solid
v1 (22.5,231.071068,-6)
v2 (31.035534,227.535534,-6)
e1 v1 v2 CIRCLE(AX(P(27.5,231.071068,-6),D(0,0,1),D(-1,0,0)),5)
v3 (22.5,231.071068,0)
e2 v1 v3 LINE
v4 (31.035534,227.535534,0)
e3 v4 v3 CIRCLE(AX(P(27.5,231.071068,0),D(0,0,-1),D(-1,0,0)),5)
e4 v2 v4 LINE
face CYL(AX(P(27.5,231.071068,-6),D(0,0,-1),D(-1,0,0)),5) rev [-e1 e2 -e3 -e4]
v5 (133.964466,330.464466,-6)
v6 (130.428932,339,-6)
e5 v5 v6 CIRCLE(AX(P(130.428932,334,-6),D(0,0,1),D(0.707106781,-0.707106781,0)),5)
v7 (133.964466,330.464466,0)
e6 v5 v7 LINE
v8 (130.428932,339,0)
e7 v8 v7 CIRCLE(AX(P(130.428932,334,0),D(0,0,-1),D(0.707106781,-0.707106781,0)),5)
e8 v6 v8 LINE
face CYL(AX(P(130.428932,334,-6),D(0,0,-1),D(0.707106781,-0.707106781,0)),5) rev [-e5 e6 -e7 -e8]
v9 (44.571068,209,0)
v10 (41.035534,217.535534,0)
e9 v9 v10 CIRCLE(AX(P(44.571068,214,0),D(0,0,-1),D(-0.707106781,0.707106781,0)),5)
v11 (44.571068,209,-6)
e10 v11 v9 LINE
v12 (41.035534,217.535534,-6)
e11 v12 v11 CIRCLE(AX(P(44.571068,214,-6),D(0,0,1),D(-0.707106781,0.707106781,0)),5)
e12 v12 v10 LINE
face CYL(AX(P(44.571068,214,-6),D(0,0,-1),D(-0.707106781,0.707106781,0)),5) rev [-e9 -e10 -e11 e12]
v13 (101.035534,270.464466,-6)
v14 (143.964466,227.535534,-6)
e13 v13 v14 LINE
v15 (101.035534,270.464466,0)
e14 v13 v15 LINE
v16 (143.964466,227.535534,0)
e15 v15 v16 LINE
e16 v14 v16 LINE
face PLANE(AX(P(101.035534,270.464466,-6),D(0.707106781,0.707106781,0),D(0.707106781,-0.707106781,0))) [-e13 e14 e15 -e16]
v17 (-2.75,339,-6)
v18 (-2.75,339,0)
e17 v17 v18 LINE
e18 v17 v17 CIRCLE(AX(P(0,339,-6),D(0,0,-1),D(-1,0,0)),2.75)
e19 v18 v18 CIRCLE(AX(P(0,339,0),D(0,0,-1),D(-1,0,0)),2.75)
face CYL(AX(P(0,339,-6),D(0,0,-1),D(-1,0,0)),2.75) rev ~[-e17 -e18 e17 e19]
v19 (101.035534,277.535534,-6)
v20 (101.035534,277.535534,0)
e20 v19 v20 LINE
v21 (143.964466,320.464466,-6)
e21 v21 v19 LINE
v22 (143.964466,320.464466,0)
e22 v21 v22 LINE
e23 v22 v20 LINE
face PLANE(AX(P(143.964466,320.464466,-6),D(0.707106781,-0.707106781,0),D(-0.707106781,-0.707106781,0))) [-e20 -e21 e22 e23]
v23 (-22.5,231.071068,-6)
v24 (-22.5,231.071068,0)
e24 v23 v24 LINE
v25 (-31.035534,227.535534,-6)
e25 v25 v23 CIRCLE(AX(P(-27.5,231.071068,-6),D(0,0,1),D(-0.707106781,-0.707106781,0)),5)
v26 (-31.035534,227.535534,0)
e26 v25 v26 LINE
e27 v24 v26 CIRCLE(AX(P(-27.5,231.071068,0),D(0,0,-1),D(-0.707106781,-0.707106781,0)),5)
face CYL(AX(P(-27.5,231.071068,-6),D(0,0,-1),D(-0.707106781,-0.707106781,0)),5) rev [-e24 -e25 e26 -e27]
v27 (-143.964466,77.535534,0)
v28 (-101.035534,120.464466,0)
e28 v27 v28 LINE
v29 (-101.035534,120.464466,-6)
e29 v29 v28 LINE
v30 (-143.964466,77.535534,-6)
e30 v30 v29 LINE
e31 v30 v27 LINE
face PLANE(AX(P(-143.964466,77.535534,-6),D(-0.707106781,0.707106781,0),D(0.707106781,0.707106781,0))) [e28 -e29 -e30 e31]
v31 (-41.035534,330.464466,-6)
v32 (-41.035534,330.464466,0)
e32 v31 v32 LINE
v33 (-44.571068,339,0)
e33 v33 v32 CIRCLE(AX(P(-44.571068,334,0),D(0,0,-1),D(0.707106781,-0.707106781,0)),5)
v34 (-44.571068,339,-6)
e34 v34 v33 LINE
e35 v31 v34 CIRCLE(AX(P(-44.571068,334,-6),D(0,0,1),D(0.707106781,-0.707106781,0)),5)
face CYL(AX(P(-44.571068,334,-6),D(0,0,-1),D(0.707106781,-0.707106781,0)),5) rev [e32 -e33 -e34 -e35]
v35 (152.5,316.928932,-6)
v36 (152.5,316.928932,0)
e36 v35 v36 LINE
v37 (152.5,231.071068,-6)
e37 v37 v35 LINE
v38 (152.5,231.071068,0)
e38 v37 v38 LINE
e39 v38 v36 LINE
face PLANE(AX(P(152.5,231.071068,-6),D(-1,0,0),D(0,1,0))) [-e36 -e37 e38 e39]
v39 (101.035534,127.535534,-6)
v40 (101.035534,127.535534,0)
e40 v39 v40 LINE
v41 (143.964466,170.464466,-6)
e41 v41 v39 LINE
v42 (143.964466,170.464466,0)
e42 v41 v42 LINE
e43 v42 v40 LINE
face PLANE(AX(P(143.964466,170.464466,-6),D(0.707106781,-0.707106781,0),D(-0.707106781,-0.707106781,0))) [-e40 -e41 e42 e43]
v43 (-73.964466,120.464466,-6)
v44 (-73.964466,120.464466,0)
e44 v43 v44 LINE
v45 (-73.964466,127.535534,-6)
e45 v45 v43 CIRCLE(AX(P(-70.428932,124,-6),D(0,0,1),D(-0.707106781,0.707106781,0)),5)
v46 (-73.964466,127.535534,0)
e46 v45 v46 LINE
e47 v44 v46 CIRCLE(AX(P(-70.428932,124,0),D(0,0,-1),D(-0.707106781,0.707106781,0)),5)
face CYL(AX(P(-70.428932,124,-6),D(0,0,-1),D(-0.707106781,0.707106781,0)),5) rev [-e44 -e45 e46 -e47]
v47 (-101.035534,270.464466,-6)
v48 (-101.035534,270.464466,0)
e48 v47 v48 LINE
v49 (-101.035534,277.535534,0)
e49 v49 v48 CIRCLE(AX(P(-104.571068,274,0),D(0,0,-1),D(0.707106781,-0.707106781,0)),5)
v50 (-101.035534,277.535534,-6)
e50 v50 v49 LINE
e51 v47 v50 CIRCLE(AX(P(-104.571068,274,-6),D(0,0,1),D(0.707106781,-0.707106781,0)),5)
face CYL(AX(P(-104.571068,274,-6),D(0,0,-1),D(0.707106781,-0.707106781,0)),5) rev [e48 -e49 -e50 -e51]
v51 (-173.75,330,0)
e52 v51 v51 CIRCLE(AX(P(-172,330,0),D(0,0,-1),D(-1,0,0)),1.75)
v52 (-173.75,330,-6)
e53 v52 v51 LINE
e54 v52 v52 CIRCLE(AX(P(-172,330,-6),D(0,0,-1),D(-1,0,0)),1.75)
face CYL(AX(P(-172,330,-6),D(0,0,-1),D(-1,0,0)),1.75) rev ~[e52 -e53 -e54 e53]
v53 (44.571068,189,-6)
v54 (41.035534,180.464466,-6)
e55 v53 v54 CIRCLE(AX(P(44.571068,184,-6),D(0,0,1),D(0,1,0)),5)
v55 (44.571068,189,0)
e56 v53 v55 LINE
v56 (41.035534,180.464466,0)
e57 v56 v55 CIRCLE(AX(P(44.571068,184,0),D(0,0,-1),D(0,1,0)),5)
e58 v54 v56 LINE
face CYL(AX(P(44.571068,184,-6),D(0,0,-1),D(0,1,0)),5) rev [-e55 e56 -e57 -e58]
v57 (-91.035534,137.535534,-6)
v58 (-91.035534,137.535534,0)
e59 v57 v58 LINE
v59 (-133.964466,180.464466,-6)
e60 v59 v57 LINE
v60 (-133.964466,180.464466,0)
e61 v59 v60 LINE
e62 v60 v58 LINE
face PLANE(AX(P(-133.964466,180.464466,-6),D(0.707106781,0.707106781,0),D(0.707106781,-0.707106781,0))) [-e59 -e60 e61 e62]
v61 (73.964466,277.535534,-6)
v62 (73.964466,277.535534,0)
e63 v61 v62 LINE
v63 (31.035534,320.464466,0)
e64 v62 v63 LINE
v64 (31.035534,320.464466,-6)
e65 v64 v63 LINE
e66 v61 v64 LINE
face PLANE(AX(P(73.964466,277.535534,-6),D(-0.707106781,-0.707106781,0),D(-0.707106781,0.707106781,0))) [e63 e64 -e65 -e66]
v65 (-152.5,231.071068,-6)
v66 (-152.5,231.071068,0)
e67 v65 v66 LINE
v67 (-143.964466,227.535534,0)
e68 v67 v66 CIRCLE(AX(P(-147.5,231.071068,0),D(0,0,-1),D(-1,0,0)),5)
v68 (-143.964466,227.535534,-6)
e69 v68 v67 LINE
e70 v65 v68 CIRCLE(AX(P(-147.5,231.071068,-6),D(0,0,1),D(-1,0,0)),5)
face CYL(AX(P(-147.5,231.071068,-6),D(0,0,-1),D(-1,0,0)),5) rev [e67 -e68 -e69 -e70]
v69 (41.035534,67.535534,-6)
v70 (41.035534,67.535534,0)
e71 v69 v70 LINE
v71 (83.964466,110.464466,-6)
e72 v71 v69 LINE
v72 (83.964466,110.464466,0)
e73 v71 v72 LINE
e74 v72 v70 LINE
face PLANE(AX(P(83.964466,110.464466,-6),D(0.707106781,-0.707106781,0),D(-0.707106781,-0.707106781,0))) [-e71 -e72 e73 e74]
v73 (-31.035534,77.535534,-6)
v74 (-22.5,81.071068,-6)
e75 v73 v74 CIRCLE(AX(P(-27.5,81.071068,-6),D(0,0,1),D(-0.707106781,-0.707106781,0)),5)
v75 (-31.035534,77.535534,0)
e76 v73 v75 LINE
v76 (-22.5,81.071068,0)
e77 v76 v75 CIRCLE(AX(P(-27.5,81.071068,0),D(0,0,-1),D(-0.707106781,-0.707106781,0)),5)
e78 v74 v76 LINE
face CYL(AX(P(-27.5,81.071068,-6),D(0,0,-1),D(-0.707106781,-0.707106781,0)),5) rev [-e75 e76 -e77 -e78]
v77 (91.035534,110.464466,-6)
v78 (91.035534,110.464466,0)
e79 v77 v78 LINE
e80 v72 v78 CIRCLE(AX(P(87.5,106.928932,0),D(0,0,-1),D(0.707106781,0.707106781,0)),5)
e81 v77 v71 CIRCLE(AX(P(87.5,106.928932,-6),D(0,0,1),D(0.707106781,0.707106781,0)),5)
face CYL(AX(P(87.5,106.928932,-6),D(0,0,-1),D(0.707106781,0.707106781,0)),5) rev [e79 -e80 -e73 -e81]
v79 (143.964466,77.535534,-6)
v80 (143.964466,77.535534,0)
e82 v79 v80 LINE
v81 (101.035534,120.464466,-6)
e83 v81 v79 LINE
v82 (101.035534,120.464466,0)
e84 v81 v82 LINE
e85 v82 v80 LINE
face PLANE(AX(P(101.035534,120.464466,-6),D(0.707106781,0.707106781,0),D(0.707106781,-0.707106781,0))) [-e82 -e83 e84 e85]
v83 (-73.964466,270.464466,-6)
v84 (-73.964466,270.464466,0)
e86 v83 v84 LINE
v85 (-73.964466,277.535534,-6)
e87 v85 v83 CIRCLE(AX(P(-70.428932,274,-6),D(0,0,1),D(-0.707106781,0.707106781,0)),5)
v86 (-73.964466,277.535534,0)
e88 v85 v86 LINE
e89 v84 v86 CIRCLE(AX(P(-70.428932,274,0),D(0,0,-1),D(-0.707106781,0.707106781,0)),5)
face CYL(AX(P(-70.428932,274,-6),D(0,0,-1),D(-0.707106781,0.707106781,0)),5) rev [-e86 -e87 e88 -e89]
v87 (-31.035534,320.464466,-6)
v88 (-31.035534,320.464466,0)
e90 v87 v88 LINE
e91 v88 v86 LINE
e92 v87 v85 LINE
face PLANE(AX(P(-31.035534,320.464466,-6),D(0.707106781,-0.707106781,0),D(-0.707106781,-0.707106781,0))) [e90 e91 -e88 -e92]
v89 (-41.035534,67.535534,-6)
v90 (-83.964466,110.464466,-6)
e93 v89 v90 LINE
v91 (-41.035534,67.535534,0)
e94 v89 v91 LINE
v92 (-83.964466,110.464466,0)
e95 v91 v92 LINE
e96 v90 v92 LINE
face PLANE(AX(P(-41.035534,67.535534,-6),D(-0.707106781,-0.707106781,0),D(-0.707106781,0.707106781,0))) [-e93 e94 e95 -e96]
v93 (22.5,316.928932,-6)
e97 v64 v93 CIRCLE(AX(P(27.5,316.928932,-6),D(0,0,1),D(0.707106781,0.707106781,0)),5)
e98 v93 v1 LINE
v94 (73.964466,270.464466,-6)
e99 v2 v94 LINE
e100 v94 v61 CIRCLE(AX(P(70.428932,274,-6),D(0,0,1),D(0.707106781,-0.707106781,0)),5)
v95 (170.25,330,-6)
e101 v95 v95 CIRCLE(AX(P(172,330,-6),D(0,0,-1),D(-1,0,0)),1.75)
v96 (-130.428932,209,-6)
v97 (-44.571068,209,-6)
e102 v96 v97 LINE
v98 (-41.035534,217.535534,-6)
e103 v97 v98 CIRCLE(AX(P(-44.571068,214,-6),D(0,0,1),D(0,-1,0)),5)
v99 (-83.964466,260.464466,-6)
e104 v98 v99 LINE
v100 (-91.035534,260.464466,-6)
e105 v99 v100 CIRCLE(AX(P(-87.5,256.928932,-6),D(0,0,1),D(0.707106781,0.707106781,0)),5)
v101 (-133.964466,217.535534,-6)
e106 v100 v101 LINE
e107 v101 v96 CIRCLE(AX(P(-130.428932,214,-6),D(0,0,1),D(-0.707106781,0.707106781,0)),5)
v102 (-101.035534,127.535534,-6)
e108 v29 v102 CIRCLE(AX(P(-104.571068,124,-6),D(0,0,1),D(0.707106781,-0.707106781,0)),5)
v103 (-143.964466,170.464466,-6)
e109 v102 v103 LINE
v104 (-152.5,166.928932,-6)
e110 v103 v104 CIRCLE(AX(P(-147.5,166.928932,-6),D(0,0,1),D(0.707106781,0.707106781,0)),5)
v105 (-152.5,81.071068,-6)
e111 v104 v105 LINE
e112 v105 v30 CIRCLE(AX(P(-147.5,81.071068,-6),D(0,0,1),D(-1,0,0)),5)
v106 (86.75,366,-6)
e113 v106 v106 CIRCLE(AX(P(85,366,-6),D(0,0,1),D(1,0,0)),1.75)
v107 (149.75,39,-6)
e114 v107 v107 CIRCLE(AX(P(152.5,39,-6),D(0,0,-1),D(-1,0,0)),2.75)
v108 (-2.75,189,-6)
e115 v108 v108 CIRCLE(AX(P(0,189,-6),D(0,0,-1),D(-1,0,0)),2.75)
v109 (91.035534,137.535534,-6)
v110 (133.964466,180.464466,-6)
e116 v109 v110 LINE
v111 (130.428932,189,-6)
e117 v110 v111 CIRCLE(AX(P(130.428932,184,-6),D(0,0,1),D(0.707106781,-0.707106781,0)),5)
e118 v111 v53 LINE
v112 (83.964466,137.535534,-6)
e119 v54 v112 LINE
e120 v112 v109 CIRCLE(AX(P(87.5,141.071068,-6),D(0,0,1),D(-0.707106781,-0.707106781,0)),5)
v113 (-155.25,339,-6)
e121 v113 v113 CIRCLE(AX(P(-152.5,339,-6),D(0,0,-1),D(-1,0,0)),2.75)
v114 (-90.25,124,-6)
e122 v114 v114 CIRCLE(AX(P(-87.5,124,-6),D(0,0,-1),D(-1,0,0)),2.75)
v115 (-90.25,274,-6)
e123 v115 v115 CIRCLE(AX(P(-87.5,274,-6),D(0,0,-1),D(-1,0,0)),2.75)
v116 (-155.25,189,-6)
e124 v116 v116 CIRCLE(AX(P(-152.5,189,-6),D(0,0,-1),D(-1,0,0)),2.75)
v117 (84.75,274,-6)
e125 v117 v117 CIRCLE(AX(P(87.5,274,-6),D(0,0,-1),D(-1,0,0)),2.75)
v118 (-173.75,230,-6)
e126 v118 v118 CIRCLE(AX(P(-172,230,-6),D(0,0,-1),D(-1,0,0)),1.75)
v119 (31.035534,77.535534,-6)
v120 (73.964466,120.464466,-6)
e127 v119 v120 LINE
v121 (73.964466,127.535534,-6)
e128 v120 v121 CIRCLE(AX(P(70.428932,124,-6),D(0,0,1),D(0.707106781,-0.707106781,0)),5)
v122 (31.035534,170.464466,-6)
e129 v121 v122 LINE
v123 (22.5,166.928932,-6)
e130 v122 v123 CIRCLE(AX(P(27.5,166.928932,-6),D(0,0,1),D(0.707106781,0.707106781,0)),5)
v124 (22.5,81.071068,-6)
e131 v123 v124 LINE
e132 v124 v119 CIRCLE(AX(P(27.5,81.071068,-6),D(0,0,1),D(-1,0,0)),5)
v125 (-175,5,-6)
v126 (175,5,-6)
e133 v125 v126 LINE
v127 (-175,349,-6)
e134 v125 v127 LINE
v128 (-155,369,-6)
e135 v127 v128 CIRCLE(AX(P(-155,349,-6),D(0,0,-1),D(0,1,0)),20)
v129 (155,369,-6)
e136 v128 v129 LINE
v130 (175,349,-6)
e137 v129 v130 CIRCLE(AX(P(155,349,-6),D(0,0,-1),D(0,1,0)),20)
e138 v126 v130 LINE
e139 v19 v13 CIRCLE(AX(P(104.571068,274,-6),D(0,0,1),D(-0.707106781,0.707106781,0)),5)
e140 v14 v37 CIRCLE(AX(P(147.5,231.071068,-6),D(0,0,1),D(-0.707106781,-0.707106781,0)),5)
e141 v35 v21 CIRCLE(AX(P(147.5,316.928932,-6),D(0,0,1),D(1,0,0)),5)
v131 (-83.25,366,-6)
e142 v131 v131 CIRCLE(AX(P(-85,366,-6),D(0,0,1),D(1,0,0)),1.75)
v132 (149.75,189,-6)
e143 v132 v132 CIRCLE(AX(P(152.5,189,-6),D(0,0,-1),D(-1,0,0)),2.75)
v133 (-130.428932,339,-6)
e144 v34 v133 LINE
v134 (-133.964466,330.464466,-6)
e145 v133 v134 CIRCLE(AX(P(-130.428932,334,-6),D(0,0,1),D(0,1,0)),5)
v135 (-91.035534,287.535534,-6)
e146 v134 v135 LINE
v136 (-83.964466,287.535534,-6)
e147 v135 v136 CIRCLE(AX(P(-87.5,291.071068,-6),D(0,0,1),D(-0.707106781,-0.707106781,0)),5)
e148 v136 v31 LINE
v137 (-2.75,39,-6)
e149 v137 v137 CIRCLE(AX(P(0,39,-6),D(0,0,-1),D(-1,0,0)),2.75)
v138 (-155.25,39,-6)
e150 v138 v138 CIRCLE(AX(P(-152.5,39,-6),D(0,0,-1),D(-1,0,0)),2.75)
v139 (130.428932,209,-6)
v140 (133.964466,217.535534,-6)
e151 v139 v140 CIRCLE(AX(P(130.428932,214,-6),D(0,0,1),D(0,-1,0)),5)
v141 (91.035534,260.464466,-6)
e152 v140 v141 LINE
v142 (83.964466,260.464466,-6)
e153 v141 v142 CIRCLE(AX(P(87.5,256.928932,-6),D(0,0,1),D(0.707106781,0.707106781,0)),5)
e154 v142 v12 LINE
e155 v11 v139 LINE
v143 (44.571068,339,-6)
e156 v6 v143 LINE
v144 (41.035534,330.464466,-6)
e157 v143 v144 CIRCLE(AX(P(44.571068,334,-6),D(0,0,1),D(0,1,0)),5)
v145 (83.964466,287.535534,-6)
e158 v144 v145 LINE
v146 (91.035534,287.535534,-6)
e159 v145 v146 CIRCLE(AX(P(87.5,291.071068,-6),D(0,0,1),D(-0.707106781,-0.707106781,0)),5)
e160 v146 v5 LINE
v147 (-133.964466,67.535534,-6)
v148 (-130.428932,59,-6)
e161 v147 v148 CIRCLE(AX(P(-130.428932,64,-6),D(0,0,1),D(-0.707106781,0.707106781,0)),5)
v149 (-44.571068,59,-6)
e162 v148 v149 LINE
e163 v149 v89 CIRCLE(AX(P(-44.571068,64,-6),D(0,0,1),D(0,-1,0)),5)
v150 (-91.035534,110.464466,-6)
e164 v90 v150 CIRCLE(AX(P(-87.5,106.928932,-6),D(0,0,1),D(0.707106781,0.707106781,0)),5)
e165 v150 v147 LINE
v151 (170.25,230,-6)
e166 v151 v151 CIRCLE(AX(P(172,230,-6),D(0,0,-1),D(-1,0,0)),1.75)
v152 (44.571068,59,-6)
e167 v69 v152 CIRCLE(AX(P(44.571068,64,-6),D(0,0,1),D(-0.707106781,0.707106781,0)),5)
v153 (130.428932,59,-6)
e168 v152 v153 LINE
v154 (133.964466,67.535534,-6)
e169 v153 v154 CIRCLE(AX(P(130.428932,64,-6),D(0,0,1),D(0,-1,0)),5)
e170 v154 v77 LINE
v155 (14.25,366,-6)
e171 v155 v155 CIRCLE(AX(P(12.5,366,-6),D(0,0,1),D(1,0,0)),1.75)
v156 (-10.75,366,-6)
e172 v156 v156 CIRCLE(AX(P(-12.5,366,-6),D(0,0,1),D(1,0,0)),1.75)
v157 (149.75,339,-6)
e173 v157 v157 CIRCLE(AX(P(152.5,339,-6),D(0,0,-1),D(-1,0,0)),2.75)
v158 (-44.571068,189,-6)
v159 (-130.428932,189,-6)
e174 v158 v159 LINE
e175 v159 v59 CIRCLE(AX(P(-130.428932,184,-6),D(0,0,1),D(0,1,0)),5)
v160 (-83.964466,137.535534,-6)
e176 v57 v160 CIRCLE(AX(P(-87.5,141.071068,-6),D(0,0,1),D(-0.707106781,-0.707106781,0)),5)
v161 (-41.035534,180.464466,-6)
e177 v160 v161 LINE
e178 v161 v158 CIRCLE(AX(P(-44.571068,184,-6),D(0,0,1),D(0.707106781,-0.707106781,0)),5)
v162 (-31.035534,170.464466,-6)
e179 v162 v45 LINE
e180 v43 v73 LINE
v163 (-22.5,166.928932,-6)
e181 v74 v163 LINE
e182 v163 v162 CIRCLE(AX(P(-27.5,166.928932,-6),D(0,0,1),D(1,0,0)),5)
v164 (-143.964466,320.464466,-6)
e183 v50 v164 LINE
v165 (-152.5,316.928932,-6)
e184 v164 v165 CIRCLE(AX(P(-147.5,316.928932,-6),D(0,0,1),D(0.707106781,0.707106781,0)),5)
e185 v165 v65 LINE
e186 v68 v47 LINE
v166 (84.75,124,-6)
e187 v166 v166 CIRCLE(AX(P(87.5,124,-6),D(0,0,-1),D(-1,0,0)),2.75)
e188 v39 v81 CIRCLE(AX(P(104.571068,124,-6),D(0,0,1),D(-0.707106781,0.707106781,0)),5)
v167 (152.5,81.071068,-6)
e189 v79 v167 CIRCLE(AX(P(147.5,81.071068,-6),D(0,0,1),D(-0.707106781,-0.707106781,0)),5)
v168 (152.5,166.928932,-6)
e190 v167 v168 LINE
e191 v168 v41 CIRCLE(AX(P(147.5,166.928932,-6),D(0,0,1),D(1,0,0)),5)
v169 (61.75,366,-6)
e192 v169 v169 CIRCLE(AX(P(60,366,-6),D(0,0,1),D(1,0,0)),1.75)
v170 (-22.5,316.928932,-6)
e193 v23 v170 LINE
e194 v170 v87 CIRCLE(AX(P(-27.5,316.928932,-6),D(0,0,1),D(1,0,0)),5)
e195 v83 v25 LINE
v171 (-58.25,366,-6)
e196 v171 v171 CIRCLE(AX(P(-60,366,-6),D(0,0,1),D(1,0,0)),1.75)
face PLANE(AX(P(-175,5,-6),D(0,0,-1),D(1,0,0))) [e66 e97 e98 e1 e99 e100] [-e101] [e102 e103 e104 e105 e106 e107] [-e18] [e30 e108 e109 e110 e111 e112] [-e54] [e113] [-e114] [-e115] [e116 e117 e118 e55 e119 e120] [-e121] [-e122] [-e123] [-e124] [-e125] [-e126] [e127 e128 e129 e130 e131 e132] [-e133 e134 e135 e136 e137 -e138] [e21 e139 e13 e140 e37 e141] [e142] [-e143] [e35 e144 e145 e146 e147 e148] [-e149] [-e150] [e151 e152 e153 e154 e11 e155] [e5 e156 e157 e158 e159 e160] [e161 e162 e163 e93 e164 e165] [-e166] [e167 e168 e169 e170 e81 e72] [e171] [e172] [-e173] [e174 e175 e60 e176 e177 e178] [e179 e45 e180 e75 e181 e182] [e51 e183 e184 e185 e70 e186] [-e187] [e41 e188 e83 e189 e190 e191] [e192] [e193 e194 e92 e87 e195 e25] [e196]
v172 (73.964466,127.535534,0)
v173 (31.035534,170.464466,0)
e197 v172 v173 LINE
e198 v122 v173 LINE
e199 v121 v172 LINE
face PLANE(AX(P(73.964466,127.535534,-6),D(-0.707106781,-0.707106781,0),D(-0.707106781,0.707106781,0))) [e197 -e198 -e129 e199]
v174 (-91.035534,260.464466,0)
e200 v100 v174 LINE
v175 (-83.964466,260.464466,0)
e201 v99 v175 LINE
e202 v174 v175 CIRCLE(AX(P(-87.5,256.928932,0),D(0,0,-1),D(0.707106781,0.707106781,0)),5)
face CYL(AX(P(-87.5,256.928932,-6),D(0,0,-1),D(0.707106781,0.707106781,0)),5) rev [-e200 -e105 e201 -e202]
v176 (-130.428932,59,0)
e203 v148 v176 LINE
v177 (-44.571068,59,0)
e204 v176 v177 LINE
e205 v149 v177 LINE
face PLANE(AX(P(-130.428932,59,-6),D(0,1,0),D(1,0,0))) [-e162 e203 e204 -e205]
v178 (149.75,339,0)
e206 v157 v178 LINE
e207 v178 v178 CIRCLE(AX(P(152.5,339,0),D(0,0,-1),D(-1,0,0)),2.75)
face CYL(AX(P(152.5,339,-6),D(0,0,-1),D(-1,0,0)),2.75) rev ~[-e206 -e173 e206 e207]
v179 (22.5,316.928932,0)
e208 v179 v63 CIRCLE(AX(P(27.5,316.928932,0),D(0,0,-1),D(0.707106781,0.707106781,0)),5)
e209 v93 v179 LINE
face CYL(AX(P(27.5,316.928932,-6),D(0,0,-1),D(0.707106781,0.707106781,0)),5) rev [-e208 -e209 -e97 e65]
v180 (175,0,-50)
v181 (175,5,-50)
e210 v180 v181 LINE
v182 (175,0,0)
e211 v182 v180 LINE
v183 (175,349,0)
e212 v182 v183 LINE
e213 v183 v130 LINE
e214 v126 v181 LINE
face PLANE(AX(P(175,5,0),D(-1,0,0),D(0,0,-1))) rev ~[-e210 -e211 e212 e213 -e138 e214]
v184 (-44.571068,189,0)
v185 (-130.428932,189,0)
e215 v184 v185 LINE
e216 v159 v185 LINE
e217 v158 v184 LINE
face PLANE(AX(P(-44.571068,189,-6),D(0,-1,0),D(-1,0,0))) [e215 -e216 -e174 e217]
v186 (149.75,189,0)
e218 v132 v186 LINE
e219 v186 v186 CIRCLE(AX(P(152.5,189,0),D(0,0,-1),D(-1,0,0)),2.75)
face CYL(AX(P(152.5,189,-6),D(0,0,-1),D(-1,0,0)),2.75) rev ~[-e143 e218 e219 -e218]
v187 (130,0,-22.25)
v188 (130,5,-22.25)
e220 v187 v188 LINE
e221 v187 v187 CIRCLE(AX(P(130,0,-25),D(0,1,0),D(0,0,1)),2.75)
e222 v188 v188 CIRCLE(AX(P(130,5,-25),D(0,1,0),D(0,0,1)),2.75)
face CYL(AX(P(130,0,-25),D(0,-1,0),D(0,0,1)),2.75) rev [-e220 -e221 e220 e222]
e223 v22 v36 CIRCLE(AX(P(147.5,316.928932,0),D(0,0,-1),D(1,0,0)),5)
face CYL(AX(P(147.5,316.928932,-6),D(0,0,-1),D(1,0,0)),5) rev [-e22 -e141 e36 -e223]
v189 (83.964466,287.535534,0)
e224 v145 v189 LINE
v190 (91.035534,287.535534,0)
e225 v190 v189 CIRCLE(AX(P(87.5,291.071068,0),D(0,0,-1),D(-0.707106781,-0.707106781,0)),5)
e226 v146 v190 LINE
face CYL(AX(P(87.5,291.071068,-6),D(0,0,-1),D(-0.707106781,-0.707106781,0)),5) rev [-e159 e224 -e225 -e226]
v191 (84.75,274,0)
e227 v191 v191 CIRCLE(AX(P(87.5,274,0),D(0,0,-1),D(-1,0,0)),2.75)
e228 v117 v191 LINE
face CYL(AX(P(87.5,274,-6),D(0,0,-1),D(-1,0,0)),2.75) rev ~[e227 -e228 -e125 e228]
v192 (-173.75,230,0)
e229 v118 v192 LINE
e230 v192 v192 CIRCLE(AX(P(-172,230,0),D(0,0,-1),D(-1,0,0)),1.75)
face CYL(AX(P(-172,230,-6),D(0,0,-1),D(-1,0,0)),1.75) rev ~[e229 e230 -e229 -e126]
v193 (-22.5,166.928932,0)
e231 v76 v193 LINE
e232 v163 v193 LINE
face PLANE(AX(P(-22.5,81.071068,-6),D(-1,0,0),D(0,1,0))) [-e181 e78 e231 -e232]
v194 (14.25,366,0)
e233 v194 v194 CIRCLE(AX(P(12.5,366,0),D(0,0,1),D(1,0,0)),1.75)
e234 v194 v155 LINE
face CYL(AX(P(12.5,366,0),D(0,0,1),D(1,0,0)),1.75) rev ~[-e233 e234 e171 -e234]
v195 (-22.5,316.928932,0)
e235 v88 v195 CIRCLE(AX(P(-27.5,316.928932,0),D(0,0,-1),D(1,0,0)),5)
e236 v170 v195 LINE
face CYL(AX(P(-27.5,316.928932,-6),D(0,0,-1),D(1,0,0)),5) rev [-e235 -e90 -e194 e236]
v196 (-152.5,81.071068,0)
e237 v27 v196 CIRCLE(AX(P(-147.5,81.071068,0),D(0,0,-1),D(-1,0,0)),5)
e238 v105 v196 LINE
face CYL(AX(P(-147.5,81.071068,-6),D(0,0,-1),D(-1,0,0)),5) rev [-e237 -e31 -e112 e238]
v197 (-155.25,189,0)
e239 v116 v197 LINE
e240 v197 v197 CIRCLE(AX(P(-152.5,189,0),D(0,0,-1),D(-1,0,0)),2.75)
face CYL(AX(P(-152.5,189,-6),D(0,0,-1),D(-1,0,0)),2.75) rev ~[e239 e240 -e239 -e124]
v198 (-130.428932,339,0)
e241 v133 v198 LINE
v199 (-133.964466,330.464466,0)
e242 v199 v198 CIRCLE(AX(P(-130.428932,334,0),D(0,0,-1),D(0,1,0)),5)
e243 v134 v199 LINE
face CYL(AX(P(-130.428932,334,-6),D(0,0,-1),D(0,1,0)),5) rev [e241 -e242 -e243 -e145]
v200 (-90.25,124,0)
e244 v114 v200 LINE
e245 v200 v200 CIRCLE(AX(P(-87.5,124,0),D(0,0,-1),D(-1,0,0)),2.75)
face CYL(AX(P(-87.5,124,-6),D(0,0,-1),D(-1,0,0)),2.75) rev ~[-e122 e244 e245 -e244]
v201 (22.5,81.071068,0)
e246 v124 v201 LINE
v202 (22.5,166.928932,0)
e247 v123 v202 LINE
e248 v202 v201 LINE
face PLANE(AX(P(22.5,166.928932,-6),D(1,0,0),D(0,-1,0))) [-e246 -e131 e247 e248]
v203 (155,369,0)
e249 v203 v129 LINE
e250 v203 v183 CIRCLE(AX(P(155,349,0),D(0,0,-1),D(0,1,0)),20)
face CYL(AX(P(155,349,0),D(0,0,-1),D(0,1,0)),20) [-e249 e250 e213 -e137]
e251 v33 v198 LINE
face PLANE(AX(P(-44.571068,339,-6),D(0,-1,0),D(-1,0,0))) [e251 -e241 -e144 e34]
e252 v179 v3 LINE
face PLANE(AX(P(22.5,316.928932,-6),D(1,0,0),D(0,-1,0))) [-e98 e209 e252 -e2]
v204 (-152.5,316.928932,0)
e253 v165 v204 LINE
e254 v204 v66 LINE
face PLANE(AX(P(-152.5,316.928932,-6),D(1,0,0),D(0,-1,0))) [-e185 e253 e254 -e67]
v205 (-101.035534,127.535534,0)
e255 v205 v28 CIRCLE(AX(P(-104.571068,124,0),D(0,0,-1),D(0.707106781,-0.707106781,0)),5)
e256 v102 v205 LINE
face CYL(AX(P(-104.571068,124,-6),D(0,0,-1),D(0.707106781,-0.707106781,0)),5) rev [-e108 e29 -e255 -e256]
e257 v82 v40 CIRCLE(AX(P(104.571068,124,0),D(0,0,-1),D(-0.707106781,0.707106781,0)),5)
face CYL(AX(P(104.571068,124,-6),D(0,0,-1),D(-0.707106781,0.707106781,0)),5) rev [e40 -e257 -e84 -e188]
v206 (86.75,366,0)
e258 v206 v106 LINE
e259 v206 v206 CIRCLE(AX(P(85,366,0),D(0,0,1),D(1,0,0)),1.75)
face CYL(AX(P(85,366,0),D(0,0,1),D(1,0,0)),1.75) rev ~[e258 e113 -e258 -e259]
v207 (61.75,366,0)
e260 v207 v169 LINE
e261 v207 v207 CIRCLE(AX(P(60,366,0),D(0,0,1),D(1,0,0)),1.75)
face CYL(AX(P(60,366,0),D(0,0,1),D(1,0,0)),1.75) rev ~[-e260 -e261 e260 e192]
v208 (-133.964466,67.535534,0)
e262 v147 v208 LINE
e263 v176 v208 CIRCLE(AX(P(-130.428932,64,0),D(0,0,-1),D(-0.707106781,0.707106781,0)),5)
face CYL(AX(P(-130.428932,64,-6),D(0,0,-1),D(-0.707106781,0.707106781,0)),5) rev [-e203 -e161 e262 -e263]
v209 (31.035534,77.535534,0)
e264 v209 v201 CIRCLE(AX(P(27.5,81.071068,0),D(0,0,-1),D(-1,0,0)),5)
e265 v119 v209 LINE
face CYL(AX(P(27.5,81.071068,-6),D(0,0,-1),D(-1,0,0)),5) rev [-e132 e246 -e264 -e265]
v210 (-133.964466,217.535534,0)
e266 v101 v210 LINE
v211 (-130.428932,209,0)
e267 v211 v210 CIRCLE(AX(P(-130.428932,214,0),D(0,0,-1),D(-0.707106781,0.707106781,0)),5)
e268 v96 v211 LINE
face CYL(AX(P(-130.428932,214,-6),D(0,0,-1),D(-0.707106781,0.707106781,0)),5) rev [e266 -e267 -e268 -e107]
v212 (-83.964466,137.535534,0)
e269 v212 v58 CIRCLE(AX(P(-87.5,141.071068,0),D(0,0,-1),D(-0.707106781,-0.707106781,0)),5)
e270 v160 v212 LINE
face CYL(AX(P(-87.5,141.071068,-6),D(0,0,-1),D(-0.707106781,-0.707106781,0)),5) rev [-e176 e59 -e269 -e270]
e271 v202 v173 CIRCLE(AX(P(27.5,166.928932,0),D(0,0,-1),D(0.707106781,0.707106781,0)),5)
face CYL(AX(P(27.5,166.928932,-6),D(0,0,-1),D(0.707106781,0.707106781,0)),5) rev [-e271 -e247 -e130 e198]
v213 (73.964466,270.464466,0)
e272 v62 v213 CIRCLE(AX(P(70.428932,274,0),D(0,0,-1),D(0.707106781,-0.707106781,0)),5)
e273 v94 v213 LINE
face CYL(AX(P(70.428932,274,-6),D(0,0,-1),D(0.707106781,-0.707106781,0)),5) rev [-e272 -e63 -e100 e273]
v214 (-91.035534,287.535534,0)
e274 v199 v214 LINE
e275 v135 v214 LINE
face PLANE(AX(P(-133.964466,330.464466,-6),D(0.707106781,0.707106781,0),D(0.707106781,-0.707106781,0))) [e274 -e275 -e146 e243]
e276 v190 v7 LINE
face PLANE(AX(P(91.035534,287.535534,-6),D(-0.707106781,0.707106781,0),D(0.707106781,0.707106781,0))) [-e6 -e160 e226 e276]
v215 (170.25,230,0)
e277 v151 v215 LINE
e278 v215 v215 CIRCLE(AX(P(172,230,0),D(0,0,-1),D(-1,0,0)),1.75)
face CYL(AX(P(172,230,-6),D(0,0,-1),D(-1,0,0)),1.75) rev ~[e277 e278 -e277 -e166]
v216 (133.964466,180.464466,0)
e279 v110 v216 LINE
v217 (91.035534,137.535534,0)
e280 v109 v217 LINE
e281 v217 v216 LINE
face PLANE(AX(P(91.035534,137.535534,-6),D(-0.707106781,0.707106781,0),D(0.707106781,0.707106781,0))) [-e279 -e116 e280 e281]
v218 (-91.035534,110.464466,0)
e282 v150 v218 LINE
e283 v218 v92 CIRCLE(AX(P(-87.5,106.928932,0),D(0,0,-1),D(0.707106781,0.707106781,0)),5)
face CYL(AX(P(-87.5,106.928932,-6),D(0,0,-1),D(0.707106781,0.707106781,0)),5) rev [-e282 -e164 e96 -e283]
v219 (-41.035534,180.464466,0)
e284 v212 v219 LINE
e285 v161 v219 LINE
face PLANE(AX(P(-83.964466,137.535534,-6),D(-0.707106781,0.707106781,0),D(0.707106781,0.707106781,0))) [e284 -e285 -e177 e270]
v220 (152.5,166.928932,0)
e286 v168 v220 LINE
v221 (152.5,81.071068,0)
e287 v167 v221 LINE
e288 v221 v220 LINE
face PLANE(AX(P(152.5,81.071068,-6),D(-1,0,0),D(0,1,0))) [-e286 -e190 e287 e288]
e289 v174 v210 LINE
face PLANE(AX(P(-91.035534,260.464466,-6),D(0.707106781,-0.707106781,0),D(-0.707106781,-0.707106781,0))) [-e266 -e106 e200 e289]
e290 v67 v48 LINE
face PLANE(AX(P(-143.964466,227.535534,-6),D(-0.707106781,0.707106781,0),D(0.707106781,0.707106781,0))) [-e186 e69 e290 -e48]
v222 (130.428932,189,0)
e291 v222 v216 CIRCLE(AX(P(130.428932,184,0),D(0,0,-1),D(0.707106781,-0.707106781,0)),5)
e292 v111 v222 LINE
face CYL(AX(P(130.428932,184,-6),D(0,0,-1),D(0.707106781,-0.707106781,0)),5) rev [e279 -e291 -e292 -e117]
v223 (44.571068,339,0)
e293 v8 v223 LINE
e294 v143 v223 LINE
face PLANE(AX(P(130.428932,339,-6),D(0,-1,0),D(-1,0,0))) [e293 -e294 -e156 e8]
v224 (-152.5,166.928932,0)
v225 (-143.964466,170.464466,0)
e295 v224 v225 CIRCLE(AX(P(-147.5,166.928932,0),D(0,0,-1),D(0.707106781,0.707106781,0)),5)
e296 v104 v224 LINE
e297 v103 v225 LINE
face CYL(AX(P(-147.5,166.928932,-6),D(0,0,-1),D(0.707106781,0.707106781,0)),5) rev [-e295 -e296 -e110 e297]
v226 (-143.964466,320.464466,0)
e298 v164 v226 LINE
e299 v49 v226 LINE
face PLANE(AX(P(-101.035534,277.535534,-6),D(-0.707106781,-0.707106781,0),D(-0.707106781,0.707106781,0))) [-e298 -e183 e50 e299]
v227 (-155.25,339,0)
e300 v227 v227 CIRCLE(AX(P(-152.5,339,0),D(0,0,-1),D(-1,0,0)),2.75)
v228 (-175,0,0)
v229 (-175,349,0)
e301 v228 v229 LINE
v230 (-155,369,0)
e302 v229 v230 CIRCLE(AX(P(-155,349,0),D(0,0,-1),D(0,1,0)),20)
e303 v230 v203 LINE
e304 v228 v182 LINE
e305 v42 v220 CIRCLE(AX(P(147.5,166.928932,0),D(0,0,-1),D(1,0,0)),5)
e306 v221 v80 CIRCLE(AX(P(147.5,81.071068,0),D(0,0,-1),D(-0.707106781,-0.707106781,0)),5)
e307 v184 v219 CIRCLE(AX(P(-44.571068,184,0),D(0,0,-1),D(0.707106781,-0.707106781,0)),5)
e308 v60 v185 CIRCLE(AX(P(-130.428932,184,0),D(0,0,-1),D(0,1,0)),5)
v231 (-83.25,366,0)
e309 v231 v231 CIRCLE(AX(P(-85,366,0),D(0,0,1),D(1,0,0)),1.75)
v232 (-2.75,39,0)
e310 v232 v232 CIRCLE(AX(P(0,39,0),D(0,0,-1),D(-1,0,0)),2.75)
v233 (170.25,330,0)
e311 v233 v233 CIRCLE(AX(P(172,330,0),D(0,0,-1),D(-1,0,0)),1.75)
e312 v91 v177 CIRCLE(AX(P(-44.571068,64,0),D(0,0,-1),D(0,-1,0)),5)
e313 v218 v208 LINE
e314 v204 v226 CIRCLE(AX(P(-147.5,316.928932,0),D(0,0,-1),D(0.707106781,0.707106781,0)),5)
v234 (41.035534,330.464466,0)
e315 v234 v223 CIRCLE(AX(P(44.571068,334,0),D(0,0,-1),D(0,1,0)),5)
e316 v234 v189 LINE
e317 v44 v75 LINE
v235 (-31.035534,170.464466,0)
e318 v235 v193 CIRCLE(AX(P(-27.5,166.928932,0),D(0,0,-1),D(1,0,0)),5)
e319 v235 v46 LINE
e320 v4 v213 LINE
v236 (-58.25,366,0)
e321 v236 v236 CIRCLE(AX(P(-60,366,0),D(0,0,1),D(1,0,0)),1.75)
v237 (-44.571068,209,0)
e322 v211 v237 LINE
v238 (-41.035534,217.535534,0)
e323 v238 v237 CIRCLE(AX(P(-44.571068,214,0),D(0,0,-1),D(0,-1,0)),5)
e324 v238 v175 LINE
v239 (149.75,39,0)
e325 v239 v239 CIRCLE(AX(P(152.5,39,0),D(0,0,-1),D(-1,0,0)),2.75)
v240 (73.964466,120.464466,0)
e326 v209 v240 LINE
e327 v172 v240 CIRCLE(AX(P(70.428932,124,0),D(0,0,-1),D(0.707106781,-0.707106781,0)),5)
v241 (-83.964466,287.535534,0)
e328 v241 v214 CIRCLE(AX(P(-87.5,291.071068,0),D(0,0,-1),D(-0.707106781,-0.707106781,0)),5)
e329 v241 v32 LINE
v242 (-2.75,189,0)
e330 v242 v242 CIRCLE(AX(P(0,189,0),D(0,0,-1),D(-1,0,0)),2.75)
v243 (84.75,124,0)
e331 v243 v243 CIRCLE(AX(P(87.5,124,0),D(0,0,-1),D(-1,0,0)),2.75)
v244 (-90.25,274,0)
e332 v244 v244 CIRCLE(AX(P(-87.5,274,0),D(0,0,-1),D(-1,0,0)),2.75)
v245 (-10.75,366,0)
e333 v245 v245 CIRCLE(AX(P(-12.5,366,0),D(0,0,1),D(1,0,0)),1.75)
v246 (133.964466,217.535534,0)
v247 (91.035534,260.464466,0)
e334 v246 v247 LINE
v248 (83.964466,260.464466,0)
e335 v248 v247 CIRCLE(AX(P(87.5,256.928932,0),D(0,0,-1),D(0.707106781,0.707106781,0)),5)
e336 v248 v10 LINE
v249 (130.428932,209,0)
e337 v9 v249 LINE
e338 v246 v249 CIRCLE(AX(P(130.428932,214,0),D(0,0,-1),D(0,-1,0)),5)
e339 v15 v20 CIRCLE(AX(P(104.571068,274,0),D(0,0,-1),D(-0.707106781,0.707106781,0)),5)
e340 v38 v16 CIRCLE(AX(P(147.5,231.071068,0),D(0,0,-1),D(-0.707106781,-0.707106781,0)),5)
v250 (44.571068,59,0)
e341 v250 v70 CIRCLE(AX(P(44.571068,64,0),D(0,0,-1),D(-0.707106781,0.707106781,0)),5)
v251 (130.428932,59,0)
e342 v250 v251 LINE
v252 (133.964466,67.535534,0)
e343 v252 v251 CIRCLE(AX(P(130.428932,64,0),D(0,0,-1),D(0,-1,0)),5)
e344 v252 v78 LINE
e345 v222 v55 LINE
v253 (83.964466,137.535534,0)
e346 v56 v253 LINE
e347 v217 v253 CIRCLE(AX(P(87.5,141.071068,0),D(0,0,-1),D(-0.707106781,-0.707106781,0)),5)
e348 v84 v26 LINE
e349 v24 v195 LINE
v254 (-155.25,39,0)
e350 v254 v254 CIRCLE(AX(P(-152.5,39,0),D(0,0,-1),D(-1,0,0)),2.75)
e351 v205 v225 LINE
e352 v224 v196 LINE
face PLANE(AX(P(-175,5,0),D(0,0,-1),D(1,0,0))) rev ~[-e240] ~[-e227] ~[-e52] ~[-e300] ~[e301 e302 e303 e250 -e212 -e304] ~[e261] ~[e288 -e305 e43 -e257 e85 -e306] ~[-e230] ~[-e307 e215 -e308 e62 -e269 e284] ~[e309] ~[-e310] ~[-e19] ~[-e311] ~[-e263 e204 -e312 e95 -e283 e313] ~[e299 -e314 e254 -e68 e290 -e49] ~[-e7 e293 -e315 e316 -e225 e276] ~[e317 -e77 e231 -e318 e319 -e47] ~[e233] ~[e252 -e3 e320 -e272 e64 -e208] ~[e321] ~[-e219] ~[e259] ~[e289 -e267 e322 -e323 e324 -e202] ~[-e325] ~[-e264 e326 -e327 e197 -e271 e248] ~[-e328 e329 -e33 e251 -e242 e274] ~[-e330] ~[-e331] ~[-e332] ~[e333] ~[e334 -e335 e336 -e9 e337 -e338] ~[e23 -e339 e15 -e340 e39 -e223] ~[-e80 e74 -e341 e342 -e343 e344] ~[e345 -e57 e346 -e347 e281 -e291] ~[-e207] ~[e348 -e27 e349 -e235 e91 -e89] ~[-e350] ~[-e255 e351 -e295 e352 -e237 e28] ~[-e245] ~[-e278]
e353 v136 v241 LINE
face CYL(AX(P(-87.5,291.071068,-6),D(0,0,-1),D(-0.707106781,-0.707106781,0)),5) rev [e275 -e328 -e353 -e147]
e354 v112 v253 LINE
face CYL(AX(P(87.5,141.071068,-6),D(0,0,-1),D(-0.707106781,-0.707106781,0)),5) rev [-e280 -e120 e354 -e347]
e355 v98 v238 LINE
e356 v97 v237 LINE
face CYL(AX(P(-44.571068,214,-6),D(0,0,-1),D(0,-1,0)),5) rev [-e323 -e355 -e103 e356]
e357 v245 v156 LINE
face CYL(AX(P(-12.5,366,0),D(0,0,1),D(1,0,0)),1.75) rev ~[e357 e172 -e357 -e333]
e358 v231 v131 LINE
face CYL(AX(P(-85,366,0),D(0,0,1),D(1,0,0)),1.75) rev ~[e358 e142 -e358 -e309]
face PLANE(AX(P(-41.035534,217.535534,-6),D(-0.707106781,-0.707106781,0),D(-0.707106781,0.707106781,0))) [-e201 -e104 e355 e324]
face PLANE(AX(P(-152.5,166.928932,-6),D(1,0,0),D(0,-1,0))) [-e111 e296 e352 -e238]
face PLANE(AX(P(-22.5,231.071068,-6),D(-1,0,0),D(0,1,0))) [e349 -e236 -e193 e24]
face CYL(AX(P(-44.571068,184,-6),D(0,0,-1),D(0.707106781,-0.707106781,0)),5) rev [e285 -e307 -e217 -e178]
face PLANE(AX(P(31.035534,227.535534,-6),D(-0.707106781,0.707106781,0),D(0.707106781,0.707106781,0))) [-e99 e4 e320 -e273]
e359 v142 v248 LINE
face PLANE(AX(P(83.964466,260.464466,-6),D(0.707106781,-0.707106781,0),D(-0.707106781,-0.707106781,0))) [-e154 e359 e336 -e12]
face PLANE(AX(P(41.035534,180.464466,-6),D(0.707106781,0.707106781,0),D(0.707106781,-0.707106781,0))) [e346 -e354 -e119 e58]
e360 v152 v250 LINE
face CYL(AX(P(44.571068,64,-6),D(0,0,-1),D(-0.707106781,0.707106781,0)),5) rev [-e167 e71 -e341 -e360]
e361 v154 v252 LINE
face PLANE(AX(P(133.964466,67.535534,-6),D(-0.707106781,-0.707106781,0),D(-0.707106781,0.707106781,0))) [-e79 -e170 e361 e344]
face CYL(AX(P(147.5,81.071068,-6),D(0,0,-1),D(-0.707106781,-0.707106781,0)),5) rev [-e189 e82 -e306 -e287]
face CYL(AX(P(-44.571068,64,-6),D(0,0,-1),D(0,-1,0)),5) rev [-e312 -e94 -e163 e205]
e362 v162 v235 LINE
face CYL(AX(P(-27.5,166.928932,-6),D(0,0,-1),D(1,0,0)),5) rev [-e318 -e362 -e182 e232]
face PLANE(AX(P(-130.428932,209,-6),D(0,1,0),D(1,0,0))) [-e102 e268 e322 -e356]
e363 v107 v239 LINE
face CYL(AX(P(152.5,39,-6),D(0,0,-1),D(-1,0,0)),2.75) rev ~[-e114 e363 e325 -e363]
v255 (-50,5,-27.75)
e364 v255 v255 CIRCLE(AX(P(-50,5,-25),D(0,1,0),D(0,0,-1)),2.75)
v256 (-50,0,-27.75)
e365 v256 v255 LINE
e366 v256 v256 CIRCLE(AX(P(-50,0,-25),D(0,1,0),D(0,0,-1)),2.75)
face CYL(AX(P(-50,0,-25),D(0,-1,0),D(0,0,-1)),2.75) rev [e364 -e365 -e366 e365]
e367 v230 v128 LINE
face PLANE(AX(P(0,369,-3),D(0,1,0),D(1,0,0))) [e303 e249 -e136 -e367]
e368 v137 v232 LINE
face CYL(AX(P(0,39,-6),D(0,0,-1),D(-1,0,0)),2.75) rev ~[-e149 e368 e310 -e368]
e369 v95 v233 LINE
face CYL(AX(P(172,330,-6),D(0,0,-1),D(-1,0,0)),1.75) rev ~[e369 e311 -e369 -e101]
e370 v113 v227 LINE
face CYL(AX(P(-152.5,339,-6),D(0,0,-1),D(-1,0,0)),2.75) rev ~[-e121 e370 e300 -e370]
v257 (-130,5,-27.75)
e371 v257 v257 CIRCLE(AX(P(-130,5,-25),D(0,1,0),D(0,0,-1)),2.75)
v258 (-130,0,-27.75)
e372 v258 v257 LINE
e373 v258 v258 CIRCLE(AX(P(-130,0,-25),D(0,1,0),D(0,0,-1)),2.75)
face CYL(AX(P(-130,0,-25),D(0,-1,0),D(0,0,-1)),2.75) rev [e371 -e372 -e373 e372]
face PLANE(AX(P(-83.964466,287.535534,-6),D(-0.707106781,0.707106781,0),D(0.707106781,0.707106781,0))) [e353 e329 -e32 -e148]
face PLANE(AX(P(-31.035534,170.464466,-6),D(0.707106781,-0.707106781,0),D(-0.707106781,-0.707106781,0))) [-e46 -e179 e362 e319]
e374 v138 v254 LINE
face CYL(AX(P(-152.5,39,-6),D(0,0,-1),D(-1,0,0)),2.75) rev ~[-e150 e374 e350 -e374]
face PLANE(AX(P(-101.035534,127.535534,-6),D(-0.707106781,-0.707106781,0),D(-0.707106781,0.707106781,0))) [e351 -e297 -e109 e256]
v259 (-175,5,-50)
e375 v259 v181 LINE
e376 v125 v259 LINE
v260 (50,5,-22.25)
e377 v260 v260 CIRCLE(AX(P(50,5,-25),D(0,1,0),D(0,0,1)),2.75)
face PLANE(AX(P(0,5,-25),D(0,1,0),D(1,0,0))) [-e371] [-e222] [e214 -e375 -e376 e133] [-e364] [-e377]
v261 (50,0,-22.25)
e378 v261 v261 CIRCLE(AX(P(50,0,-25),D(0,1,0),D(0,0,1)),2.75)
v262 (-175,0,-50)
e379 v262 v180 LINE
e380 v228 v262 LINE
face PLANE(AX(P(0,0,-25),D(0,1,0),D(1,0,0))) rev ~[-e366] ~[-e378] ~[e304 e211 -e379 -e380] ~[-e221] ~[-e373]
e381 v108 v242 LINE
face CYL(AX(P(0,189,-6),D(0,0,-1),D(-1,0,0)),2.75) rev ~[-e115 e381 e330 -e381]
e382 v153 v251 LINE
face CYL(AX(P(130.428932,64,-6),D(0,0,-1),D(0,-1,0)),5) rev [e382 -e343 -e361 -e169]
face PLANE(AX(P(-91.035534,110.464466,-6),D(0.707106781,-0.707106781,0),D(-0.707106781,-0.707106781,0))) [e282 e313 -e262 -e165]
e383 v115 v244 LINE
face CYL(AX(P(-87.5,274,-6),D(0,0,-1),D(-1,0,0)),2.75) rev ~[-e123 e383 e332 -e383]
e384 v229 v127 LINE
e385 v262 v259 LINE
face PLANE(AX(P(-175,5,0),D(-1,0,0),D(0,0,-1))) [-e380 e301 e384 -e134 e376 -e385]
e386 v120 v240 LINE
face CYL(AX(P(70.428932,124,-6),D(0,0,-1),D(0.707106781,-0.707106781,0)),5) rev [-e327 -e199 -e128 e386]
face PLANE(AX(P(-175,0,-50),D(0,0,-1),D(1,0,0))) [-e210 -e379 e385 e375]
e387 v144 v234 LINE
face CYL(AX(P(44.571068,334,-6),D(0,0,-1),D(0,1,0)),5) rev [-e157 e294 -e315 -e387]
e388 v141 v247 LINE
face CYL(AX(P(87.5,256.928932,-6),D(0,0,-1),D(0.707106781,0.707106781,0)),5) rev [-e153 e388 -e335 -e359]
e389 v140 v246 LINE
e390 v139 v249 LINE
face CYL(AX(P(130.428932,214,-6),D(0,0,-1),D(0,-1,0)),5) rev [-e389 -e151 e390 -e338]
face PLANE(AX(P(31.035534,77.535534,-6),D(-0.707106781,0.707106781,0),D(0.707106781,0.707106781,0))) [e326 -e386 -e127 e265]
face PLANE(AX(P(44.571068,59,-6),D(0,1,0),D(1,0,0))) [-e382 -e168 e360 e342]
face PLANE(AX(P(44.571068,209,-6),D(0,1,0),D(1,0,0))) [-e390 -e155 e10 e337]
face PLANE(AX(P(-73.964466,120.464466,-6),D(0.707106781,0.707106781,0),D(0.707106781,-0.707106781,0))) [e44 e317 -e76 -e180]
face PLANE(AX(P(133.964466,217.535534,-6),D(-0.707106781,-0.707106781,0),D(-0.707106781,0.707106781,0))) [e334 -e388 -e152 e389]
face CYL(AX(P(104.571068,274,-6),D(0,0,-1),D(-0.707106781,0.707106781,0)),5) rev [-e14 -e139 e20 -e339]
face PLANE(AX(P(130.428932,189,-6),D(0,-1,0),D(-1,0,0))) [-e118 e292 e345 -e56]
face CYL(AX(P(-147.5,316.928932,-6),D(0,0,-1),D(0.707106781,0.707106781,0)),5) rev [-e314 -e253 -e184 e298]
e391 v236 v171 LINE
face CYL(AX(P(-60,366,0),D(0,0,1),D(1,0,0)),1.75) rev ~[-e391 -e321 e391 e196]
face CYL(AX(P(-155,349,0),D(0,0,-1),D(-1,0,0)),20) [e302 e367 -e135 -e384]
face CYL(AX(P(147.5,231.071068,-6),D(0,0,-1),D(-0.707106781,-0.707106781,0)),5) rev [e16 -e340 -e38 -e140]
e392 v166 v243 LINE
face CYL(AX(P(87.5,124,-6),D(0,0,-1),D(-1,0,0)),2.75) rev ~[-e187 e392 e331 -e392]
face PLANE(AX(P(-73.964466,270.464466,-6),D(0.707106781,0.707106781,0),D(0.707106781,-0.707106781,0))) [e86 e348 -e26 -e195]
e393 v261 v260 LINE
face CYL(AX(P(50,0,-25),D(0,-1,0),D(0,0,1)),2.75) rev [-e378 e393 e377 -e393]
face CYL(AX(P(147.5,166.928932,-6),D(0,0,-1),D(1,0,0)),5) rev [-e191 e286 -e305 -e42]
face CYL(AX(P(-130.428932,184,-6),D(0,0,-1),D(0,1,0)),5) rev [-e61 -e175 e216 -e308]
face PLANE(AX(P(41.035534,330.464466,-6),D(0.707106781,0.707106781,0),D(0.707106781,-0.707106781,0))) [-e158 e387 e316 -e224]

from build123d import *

# Parameters (mm, degrees)
SKETCH_1_W          = 350
SKETCH_1_H          = 50
SKETCH_1_R          = 2.75
EXTRUDE_1_DEPTH     = 5
SKETCH_2_W          = 350
SKETCH_2_H          = 6
EXTRUDE_2_DEPTH     = 364
SKETCH_3_R          = 2.75
CUT_EXTRUDE_1_DEPTH = 500
SKETCH_4_R          = 1.75
CUT_EXTRUDE_2_DEPTH = 10
FILLET_1_R          = 20
SKETCH_5_R          = 1.75
CUT_EXTRUDE_3_DEPTH = 10


with BuildPart() as part:
    # 草图1 → 凸台-拉伸1 (new body)
    with BuildSketch(Plane(origin=(0, 0, 0), x_dir=(1, 0, 0), z_dir=(0, 1, 0))):
        with Locations((0, 25)):
            Rectangle(SKETCH_1_W, SKETCH_1_H)
        with Locations(Location((130, 25, 0), (0, 0, 270))):
            Circle(SKETCH_1_R, mode=Mode.SUBTRACT)
        with Locations(Location((50, 25, 0), (0, 0, 270))):
            Circle(SKETCH_1_R, mode=Mode.SUBTRACT)
        with Locations(Location((-130, 25, 0), (0, 0, 90))):
            Circle(SKETCH_1_R, mode=Mode.SUBTRACT)
        with Locations(Location((-50, 25, 0), (0, 0, 90))):
            Circle(SKETCH_1_R, mode=Mode.SUBTRACT)
    extrude(amount=EXTRUDE_1_DEPTH)

    # 草图2 → 凸台-拉伸2 (add)
    with BuildSketch(Plane(origin=(0, 5, 0), x_dir=(1, 0, 0), z_dir=(0, 1, 0))):
        with Locations((0, 3)):
            Rectangle(SKETCH_2_W, SKETCH_2_H)
    extrude(amount=EXTRUDE_2_DEPTH)

    # 草图3 → 切除-拉伸1 (cut)
    with BuildSketch(Plane(origin=(0, 0, -6), x_dir=(-1, 0, 0), z_dir=(0, 0, -1))):
        with Locations((87.5, 274)):
            Circle(SKETCH_3_R)
        with Locations((87.5, 124)):
            Circle(SKETCH_3_R)
        with Locations((-87.5, 124)):
            Circle(SKETCH_3_R)
        with Locations((-87.5, 274)):
            Circle(SKETCH_3_R)
        with Locations((152.5, 339)):
            Circle(SKETCH_3_R)
        with Locations((152.5, 189)):
            Circle(SKETCH_3_R)
        with Locations((152.5, 39)):
            Circle(SKETCH_3_R)
        with Locations((-152.5, 39)):
            Circle(SKETCH_3_R)
        with Locations((-152.5, 189)):
            Circle(SKETCH_3_R)
        with Locations((-152.5, 339)):
            Circle(SKETCH_3_R)
        with Locations((0, 339)):
            Circle(SKETCH_3_R)
        with Locations((0, 189)):
            Circle(SKETCH_3_R)
        with Locations((0, 39)):
            Circle(SKETCH_3_R)
        with BuildLine():
            Line((83.964466094, 137.535533906), (41.035533906, 180.464466094))
            ThreePointArc((41.035533906, 180.464466094), (39.951670149, 185.913417162), (44.571067812, 189))
            Line((44.571067812, 189), (130.428932188, 189))
            ThreePointArc((130.428932188, 189), (135.048329851, 185.913417162), (133.964466094, 180.464466094))
            Line((133.964466094, 180.464466094), (91.035533906, 137.535533906))
            ThreePointArc((91.035533906, 137.535533906), (87.5, 136.071067812), (83.964466094, 137.535533906))
        make_face()
        with BuildLine():
            Line((44.571067812, 339), (130.428932188, 339))
            ThreePointArc((130.428932188, 339), (135.048329851, 335.913417162), (133.964466094, 330.464466094))
            Line((133.964466094, 330.464466094), (91.035533906, 287.535533906))
            ThreePointArc((91.035533906, 287.535533906), (87.5, 286.071067812), (83.964466094, 287.535533906))
            Line((83.964466094, 287.535533906), (41.035533906, 330.464466094))
            ThreePointArc((41.035533906, 330.464466094), (39.951670149, 335.913417162), (44.571067812, 339))
        make_face()
        with BuildLine():
            Line((73.964466094, 120.464466094), (31.035533906, 77.535533906))
            ThreePointArc((31.035533906, 77.535533906), (25.586582838, 76.451670149), (22.5, 81.071067812))
            Line((22.5, 81.071067812), (22.5, 166.928932188))
            ThreePointArc((22.5, 166.928932188), (25.586582838, 171.548329851), (31.035533906, 170.464466094))
            Line((31.035533906, 170.464466094), (73.964466094, 127.535533906))
            ThreePointArc((73.964466094, 127.535533906), (75.428932188, 124), (73.964466094, 120.464466094))
        make_face()
        with BuildLine():
            Line((101.035533906, 277.535533906), (143.964466094, 320.464466094))
            ThreePointArc((143.964466094, 320.464466094), (149.413417162, 321.548329851), (152.5, 316.928932188))
            Line((152.5, 316.928932188), (152.5, 231.071067812))
            ThreePointArc((152.5, 231.071067812), (149.413417162, 226.451670149), (143.964466094, 227.535533906))
            Line((143.964466094, 227.535533906), (101.035533906, 270.464466094))
            ThreePointArc((101.035533906, 270.464466094), (99.571067812, 274), (101.035533906, 277.535533906))
        make_face()
        with BuildLine():
            Line((91.035533906, 260.464466094), (133.964466094, 217.535533906))
            ThreePointArc((133.964466094, 217.535533906), (135.048329851, 212.086582838), (130.428932188, 209))
            Line((130.428932188, 209), (44.571067812, 209))
            ThreePointArc((44.571067812, 209), (39.951670149, 212.086582838), (41.035533906, 217.535533906))
            Line((41.035533906, 217.535533906), (83.964466094, 260.464466094))
            ThreePointArc((83.964466094, 260.464466094), (87.5, 261.928932188), (91.035533906, 260.464466094))
        make_face()
        with BuildLine():
            Line((73.964466094, 270.464466094), (31.035533906, 227.535533906))
            ThreePointArc((31.035533906, 227.535533906), (25.586582838, 226.451670149), (22.5, 231.071067812))
            Line((22.5, 231.071067812), (22.5, 316.928932188))
            ThreePointArc((22.5, 316.928932188), (25.586582838, 321.548329851), (31.035533906, 320.464466094))
            Line((31.035533906, 320.464466094), (73.964466094, 277.535533906))
            ThreePointArc((73.964466094, 277.535533906), (75.428932188, 274), (73.964466094, 270.464466094))
        make_face()
        with BuildLine():
            Line((101.035533906, 127.535533906), (143.964466094, 170.464466094))
            ThreePointArc((143.964466094, 170.464466094), (149.413417162, 171.548329851), (152.5, 166.928932188))
            Line((152.5, 166.928932188), (152.5, 81.071067812))
            ThreePointArc((152.5, 81.071067812), (149.413417162, 76.451670149), (143.964466094, 77.535533906))
            Line((143.964466094, 77.535533906), (101.035533906, 120.464466094))
            ThreePointArc((101.035533906, 120.464466094), (99.571067812, 124), (101.035533906, 127.535533906))
        make_face()
        with BuildLine():
            Line((91.035533906, 110.464466094), (133.964466094, 67.535533906))
            ThreePointArc((133.964466094, 67.535533906), (135.048329851, 62.086582838), (130.428932188, 59))
            Line((130.428932188, 59), (44.571067812, 59))
            ThreePointArc((44.571067812, 59), (39.951670149, 62.086582838), (41.035533906, 67.535533906))
            Line((41.035533906, 67.535533906), (83.964466094, 110.464466094))
            ThreePointArc((83.964466094, 110.464466094), (87.5, 111.928932188), (91.035533906, 110.464466094))
        make_face()
        with BuildLine():
            Line((-91.035533906, 137.535533906), (-133.964466094, 180.464466094))
            ThreePointArc((-133.964466094, 180.464466094), (-135.048329851, 185.913417162), (-130.428932188, 189))
            Line((-130.428932188, 189), (-44.571067812, 189))
            ThreePointArc((-44.571067812, 189), (-39.951670149, 185.913417162), (-41.035533906, 180.464466094))
            Line((-41.035533906, 180.464466094), (-83.964466094, 137.535533906))
            ThreePointArc((-83.964466094, 137.535533906), (-87.5, 136.071067812), (-91.035533906, 137.535533906))
        make_face()
        with BuildLine():
            Line((-101.035533906, 120.464466094), (-143.964466094, 77.535533906))
            ThreePointArc((-143.964466094, 77.535533906), (-149.413417162, 76.451670149), (-152.5, 81.071067812))
            Line((-152.5, 81.071067812), (-152.5, 166.928932188))
            ThreePointArc((-152.5, 166.928932188), (-149.413417162, 171.548329851), (-143.964466094, 170.464466094))
            Line((-143.964466094, 170.464466094), (-101.035533906, 127.535533906))
            ThreePointArc((-101.035533906, 127.535533906), (-99.571067812, 124), (-101.035533906, 120.464466094))
        make_face()
        with BuildLine():
            Line((-73.964466094, 127.535533906), (-31.035533906, 170.464466094))
            ThreePointArc((-31.035533906, 170.464466094), (-25.586582838, 171.548329851), (-22.5, 166.928932188))
            Line((-22.5, 166.928932188), (-22.5, 81.071067812))
            ThreePointArc((-22.5, 81.071067812), (-25.586582838, 76.451670149), (-31.035533906, 77.535533906))
            Line((-31.035533906, 77.535533906), (-73.964466094, 120.464466094))
            ThreePointArc((-73.964466094, 120.464466094), (-75.428932188, 124), (-73.964466094, 127.535533906))
        make_face()
        with BuildLine():
            Line((-83.964466094, 110.464466094), (-41.035533906, 67.535533906))
            ThreePointArc((-41.035533906, 67.535533906), (-39.951670149, 62.086582838), (-44.571067812, 59))
            Line((-44.571067812, 59), (-130.428932188, 59))
            ThreePointArc((-130.428932188, 59), (-135.048329851, 62.086582838), (-133.964466094, 67.535533906))
            Line((-133.964466094, 67.535533906), (-91.035533906, 110.464466094))
            ThreePointArc((-91.035533906, 110.464466094), (-87.5, 111.928932188), (-83.964466094, 110.464466094))
        make_face()
        with BuildLine():
            Line((-91.035533906, 287.535533906), (-133.964466094, 330.464466094))
            ThreePointArc((-133.964466094, 330.464466094), (-135.048329851, 335.913417162), (-130.428932188, 339))
            Line((-130.428932188, 339), (-44.571067812, 339))
            ThreePointArc((-44.571067812, 339), (-39.951670149, 335.913417162), (-41.035533906, 330.464466094))
            Line((-41.035533906, 330.464466094), (-83.964466094, 287.535533906))
            ThreePointArc((-83.964466094, 287.535533906), (-87.5, 286.071067812), (-91.035533906, 287.535533906))
        make_face()
        with BuildLine():
            Line((-101.035533906, 270.464466094), (-143.964466094, 227.535533906))
            ThreePointArc((-143.964466094, 227.535533906), (-149.413417162, 226.451670149), (-152.5, 231.071067812))
            Line((-152.5, 231.071067812), (-152.5, 316.928932188))
            ThreePointArc((-152.5, 316.928932188), (-149.413417162, 321.548329851), (-143.964466094, 320.464466094))
            Line((-143.964466094, 320.464466094), (-101.035533906, 277.535533906))
            ThreePointArc((-101.035533906, 277.535533906), (-99.571067812, 274), (-101.035533906, 270.464466094))
        make_face()
        with BuildLine():
            Line((-73.964466094, 277.535533906), (-31.035533906, 320.464466094))
            ThreePointArc((-31.035533906, 320.464466094), (-25.586582838, 321.548329851), (-22.5, 316.928932188))
            Line((-22.5, 316.928932188), (-22.5, 231.071067812))
            ThreePointArc((-22.5, 231.071067812), (-25.586582838, 226.451670149), (-31.035533906, 227.535533906))
            Line((-31.035533906, 227.535533906), (-73.964466094, 270.464466094))
            ThreePointArc((-73.964466094, 270.464466094), (-75.428932188, 274), (-73.964466094, 277.535533906))
        make_face()
        with BuildLine():
            Line((-83.964466094, 260.464466094), (-41.035533906, 217.535533906))
            ThreePointArc((-41.035533906, 217.535533906), (-39.951670149, 212.086582838), (-44.571067812, 209))
            Line((-44.571067812, 209), (-130.428932188, 209))
            ThreePointArc((-130.428932188, 209), (-135.048329851, 212.086582838), (-133.964466094, 217.535533906))
            Line((-133.964466094, 217.535533906), (-91.035533906, 260.464466094))
            ThreePointArc((-91.035533906, 260.464466094), (-87.5, 261.928932188), (-83.964466094, 260.464466094))
        make_face()
    extrude(amount=-CUT_EXTRUDE_1_DEPTH, mode=Mode.SUBTRACT)

    # 草图4 → 切除-拉伸2 (cut)
    with BuildSketch(Plane.XY):
        with Locations((60, 366)):
            Circle(SKETCH_4_R)
        with Locations((85, 366)):
            Circle(SKETCH_4_R)
        with Locations((12.5, 366)):
            Circle(SKETCH_4_R)
        with Locations((-12.5, 366)):
            Circle(SKETCH_4_R)
        with Locations((-85, 366)):
            Circle(SKETCH_4_R)
        with Locations((-60, 366)):
            Circle(SKETCH_4_R)
    extrude(amount=-CUT_EXTRUDE_2_DEPTH, mode=Mode.SUBTRACT)

    # 圆角1
    fillet_1_edges = [part.edges().sort_by_distance(p)[0] for p in [
        (-175, 369, -3),
        (175, 369, -3),
    ]]
    fillet(fillet_1_edges, radius=FILLET_1_R)

    # 草图5 → 切除-拉伸3 (cut)
    with BuildSketch(Plane(origin=(0, 0, -6), x_dir=(-1, 0, 0), z_dir=(0, 0, -1))):
        with Locations((172, 330)):
            Circle(SKETCH_5_R)
        with Locations((172, 230)):
            Circle(SKETCH_5_R)
        with Locations((-172, 230)):
            Circle(SKETCH_5_R)
        with Locations((-172, 330)):
            Circle(SKETCH_5_R)
    extrude(amount=-CUT_EXTRUDE_3_DEPTH, mode=Mode.SUBTRACT)


solid = part.part
